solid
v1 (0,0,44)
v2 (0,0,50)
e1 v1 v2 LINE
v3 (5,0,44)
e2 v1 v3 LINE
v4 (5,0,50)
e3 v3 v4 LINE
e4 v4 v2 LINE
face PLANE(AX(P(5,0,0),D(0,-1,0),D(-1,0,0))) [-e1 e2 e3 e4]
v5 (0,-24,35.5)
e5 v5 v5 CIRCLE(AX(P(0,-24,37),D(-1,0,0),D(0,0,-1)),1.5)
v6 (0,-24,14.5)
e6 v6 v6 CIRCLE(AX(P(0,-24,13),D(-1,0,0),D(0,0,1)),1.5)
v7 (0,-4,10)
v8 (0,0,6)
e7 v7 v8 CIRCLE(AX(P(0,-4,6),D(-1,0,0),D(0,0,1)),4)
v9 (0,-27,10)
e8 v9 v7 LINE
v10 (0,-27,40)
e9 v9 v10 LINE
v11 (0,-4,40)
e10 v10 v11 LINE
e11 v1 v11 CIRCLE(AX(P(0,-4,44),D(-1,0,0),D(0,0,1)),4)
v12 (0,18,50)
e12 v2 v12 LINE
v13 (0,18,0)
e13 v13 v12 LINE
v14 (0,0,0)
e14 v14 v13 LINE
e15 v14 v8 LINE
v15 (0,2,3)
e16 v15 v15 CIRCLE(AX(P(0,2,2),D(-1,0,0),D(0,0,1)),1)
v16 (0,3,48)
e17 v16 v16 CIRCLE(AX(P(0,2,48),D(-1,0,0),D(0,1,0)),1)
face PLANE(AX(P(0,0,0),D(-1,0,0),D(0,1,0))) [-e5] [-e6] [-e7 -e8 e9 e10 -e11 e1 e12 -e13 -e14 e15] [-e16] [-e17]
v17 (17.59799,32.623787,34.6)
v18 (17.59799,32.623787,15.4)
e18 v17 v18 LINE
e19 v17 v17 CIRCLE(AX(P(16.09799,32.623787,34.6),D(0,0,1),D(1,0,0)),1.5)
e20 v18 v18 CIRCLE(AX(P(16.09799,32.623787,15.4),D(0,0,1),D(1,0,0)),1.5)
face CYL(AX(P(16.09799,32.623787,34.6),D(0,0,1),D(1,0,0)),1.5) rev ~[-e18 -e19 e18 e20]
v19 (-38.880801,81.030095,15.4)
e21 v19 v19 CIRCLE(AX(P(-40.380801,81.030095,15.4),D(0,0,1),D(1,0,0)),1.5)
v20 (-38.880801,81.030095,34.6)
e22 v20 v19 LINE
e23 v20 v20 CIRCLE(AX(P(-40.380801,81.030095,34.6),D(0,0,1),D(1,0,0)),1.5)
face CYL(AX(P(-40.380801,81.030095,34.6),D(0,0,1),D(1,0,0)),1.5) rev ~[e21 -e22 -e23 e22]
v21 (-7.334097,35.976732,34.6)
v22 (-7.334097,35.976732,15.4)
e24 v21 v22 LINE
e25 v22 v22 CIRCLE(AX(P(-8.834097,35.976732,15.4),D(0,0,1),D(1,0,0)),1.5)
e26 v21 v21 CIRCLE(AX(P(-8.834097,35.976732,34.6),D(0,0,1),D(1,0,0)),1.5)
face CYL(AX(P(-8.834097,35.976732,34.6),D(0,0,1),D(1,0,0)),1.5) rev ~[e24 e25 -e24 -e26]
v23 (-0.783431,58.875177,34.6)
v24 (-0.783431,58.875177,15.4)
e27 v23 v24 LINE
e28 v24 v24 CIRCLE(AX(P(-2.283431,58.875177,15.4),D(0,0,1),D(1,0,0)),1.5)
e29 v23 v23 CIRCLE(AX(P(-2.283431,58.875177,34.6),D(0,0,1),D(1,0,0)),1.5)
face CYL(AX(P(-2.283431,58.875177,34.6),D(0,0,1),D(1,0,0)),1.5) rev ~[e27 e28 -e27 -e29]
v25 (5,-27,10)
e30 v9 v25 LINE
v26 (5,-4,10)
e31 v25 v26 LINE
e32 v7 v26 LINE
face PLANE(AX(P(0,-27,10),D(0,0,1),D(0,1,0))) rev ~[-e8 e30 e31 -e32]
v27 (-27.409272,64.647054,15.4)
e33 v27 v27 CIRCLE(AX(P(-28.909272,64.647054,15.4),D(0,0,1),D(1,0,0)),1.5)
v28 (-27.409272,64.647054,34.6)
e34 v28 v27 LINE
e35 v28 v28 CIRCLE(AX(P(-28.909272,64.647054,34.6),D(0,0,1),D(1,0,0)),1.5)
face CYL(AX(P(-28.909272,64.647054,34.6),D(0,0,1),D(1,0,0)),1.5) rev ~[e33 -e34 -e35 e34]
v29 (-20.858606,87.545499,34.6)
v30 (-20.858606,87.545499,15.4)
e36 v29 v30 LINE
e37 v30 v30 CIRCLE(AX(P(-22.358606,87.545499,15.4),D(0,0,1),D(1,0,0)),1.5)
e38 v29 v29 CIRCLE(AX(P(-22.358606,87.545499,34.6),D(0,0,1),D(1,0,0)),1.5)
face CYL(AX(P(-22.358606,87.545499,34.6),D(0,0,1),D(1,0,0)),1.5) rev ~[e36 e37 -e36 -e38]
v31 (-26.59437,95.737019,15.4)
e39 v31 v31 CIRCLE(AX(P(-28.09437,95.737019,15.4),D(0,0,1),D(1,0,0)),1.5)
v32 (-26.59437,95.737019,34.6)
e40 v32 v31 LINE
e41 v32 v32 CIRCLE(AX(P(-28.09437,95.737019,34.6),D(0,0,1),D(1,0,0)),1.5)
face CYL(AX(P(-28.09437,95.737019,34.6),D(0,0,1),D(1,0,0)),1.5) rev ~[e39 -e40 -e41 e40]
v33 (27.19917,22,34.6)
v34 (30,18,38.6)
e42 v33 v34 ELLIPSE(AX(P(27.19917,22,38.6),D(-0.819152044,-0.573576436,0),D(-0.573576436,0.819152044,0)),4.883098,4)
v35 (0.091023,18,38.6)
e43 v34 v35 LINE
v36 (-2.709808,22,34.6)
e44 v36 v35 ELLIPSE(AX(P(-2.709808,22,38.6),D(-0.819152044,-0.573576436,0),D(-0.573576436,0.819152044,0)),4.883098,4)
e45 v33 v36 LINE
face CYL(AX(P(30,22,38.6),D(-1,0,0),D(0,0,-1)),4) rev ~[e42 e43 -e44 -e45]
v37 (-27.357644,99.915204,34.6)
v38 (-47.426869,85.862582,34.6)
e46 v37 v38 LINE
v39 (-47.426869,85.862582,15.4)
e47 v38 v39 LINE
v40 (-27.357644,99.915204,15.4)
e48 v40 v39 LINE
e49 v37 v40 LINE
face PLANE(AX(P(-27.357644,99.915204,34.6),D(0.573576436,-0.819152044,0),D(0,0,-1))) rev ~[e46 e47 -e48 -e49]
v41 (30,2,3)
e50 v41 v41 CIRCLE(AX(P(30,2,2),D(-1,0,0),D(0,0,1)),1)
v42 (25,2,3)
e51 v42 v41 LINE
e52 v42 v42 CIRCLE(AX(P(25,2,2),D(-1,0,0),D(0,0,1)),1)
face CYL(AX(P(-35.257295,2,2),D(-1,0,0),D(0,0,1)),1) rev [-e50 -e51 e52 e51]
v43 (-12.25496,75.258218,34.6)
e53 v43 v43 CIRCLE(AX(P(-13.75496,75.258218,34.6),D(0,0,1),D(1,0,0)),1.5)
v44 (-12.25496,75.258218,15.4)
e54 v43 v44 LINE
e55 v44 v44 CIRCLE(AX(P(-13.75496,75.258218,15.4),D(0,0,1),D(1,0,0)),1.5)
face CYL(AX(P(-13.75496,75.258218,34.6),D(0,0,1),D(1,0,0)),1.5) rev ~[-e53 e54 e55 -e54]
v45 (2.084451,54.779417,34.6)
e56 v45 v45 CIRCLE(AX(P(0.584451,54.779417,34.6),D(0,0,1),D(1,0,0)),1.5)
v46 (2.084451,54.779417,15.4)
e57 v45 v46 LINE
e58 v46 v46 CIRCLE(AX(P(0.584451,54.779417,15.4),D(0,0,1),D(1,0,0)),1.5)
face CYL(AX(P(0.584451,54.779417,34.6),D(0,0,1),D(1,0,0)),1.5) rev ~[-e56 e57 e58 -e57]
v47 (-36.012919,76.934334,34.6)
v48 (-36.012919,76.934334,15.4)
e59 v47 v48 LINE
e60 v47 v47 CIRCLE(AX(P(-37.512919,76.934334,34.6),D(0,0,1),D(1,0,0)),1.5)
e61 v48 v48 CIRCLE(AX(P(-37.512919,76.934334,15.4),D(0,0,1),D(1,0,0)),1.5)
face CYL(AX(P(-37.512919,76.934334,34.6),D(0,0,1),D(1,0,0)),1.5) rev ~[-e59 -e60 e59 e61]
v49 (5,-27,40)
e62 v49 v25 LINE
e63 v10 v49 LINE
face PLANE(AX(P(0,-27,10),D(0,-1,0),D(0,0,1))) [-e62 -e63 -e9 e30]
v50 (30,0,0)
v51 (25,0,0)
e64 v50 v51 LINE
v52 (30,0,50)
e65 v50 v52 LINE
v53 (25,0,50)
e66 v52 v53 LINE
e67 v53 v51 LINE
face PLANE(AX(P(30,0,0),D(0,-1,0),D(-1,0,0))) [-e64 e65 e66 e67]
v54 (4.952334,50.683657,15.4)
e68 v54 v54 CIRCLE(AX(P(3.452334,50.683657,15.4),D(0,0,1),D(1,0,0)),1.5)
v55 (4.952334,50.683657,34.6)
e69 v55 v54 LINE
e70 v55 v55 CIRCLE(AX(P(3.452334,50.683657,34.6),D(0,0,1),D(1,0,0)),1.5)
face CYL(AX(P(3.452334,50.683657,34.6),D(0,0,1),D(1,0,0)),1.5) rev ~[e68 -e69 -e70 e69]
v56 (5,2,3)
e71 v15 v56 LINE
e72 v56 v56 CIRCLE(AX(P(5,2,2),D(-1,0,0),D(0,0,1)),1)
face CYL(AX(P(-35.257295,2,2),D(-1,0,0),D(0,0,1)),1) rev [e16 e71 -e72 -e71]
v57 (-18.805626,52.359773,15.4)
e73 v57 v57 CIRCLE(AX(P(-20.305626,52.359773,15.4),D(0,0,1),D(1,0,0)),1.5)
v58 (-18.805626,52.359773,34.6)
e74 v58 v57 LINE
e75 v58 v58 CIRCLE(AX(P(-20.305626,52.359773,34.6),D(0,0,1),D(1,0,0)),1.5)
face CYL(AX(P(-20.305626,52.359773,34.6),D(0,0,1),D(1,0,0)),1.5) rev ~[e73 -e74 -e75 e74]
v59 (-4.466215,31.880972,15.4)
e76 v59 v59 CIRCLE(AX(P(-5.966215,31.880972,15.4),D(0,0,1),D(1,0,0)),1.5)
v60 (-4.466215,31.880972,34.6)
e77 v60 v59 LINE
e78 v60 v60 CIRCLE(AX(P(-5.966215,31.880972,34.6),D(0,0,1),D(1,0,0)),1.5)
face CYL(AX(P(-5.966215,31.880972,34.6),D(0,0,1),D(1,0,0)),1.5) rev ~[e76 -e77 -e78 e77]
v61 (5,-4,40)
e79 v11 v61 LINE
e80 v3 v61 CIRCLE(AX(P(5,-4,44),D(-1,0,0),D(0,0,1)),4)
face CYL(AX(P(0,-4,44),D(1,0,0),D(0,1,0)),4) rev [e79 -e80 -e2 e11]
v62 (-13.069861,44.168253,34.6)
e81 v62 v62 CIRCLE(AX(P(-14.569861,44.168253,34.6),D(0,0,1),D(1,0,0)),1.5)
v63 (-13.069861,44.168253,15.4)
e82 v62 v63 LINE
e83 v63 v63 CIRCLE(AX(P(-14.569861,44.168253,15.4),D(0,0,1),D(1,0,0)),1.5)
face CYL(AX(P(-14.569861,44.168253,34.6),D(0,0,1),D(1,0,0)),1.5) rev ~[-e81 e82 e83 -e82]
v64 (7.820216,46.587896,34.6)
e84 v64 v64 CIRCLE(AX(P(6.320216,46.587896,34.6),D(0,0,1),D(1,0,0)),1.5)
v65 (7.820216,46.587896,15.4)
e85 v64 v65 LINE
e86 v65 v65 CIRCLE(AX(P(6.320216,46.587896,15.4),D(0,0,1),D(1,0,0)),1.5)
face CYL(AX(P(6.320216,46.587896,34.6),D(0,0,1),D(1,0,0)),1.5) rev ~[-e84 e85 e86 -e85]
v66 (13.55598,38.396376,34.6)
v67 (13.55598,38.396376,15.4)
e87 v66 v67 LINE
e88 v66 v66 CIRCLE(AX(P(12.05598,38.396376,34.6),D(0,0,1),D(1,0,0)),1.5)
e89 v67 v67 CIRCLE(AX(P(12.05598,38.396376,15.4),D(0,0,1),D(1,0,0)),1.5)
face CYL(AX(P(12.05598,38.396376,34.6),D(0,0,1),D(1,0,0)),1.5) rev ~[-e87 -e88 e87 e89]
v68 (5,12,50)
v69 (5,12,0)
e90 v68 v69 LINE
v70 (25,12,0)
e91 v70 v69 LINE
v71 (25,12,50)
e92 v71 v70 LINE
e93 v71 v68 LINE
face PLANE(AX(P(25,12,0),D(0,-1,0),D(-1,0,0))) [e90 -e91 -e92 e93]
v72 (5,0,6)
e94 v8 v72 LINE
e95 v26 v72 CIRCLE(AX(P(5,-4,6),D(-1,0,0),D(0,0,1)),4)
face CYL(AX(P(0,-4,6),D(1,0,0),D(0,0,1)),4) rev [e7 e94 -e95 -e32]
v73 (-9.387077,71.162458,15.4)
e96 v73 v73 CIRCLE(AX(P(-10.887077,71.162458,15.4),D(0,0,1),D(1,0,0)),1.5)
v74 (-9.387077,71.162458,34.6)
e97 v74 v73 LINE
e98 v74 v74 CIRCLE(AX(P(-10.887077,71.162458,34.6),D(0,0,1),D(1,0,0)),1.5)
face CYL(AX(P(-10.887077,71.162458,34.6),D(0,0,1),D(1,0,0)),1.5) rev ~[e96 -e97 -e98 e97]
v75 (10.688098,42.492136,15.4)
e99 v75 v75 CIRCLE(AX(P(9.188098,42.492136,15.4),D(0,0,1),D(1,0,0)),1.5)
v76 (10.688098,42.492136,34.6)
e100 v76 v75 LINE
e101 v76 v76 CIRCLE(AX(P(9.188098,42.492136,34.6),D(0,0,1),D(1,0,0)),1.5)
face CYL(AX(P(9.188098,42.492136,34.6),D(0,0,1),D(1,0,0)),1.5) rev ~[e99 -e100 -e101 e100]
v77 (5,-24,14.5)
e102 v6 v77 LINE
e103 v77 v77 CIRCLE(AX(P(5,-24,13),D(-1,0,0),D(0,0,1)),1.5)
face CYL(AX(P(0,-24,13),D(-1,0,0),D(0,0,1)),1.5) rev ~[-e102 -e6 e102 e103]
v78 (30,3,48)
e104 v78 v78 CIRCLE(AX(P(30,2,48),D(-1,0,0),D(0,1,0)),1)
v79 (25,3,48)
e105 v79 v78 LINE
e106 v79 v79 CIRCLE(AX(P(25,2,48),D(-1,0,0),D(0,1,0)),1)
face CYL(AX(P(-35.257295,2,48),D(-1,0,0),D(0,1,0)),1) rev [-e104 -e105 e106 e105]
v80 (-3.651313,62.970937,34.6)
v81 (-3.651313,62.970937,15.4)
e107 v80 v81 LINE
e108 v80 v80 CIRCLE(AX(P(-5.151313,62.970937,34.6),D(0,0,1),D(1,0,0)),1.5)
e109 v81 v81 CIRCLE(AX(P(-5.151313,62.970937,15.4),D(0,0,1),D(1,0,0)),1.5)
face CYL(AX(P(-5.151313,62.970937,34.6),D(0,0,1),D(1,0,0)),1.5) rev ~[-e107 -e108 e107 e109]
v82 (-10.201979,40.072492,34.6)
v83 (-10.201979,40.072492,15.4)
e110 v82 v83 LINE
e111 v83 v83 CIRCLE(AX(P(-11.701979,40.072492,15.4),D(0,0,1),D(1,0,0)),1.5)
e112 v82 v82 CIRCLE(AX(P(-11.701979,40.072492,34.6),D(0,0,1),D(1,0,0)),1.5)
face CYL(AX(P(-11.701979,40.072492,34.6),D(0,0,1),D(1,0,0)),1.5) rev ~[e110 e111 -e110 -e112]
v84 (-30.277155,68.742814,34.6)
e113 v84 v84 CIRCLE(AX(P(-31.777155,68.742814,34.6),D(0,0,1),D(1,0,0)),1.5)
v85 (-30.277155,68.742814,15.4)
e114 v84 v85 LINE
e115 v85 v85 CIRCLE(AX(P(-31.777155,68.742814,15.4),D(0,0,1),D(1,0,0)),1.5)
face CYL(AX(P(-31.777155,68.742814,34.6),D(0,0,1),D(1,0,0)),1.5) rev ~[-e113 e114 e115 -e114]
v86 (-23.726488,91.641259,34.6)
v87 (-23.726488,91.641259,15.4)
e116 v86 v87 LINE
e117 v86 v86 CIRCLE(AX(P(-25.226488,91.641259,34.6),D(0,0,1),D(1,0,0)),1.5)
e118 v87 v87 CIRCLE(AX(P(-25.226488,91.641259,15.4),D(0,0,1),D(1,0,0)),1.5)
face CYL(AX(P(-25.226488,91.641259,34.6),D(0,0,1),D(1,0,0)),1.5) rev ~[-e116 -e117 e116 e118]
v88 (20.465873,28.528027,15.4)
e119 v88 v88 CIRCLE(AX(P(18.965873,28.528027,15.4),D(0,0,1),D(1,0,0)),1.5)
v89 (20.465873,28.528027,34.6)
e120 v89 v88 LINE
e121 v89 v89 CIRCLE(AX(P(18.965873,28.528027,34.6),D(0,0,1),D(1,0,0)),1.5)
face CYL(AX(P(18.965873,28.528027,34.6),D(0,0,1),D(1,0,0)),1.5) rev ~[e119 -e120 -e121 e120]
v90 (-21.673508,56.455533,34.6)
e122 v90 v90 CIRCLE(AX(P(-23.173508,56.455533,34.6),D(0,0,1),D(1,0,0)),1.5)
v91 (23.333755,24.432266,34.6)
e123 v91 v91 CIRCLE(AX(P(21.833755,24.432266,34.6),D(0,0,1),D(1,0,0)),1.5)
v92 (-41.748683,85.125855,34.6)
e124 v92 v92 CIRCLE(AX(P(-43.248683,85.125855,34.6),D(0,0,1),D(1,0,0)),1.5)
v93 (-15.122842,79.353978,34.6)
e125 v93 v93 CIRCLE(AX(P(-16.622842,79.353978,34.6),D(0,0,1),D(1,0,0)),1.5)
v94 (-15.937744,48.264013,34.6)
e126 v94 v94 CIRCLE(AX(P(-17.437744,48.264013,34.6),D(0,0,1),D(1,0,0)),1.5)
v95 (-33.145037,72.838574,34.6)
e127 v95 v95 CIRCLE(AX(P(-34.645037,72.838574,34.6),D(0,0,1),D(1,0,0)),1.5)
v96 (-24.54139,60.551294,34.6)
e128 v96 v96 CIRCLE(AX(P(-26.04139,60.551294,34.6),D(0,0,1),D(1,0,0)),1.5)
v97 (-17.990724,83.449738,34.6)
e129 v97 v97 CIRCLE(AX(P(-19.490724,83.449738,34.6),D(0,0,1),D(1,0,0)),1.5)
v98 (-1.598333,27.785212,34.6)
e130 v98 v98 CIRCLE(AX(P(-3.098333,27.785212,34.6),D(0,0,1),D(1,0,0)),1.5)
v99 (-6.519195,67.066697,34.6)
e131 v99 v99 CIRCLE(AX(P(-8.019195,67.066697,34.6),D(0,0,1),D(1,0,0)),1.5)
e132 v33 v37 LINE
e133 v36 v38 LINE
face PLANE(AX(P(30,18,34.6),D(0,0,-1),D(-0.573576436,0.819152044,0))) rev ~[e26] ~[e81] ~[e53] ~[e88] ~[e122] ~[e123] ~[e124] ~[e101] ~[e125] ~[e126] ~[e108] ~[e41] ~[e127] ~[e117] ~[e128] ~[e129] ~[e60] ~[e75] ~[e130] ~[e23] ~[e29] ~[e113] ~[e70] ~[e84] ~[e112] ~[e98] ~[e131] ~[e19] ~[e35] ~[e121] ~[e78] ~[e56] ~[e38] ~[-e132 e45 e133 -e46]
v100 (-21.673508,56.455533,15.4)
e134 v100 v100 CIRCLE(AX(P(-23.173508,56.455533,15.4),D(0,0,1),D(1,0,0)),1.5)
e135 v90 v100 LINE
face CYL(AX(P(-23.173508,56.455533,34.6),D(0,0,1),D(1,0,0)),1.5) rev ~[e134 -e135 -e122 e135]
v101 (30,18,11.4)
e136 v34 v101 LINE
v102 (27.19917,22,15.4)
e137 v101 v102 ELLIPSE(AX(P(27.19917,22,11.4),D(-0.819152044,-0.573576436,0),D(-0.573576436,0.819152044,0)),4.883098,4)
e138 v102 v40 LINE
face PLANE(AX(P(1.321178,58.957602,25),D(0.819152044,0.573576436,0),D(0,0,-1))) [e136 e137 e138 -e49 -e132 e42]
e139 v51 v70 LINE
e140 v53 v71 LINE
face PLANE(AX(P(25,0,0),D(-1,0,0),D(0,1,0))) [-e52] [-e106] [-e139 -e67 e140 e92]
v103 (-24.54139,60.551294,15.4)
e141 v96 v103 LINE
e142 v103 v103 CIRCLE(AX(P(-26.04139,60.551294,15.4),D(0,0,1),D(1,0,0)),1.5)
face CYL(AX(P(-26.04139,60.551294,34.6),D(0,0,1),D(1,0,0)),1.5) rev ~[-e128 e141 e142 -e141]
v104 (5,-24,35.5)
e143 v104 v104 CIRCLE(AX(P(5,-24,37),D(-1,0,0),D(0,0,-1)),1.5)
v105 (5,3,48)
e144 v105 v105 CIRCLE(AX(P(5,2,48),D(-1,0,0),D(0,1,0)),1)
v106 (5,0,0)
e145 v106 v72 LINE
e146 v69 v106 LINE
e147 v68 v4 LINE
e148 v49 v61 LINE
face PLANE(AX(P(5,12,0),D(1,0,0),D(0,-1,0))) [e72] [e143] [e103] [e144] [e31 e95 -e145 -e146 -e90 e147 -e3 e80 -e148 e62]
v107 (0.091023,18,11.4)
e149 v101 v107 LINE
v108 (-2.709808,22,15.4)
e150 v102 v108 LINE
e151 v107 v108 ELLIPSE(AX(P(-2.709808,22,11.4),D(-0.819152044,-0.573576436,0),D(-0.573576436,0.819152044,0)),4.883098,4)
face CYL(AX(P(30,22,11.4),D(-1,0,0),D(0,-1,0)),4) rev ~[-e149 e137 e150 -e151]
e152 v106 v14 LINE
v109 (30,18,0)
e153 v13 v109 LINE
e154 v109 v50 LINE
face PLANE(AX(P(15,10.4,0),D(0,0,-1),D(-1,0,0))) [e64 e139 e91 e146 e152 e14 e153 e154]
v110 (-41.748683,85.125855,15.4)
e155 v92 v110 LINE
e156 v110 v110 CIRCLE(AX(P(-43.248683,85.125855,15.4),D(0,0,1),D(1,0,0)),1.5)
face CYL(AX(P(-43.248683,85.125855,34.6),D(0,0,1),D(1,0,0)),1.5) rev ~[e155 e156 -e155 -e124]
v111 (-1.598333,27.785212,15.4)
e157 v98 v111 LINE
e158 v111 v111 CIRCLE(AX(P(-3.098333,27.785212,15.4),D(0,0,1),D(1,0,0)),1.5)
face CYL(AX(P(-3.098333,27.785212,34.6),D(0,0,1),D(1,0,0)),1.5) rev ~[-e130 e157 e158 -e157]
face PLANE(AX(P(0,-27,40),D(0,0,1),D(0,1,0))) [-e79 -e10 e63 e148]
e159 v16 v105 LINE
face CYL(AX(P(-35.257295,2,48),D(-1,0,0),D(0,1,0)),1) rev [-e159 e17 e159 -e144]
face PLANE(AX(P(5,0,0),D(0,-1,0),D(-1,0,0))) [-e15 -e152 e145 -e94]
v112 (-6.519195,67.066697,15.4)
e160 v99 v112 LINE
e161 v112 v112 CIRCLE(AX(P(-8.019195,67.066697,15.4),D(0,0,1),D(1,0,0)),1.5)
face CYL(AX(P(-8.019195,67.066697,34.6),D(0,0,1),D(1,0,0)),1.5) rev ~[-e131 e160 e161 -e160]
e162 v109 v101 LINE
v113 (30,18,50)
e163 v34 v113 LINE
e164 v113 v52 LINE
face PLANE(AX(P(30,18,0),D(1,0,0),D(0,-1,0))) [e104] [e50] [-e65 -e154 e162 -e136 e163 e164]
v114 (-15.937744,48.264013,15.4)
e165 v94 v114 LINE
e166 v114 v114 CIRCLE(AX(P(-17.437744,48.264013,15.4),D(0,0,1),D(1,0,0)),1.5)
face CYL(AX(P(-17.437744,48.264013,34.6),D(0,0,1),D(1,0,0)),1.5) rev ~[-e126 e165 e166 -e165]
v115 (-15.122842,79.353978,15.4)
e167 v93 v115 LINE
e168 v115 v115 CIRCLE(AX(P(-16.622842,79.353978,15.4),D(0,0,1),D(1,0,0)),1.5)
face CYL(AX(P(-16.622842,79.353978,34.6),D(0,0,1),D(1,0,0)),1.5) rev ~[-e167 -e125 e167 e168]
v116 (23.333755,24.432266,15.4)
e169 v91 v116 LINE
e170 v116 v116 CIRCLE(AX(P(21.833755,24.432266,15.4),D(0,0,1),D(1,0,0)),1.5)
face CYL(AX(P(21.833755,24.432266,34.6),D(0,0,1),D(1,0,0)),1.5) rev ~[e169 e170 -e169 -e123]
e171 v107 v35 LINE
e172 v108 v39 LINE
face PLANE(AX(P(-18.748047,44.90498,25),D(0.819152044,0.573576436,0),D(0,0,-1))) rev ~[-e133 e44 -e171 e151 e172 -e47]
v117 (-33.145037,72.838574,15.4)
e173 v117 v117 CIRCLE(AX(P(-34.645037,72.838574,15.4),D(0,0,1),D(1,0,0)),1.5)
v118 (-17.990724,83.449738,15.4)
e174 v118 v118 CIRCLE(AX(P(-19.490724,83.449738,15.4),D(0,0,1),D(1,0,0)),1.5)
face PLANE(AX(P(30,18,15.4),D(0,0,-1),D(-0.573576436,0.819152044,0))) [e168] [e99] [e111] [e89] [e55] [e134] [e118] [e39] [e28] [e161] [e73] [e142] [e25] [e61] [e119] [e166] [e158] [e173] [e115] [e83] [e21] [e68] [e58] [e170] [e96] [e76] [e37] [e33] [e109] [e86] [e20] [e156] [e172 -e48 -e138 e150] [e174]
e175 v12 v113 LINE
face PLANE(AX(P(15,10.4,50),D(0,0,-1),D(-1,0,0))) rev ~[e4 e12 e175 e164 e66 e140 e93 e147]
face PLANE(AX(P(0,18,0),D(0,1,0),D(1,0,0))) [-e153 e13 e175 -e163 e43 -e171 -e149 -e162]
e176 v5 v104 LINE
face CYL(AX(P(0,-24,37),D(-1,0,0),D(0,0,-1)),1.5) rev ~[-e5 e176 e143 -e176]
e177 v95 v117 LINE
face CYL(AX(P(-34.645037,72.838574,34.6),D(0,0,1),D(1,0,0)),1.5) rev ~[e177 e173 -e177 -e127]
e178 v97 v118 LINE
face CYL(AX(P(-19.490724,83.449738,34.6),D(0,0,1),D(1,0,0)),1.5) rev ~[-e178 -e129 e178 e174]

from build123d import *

# Parameters (mm, degrees)
BOSS_EXTRUDE1_DEPTH     = 50
SKETCH2_W               = 30
SKETCH2_H               = 27
SKETCH2_R               = 1.5
BOSS_EXTRUDE2_DEPTH     = 5
CUT_EXTRUDE1_DEPTH      = 65.257295306
CUT_EXTRUDE1_DEPTH_BACK = 65.257295306
SKETCH3_R               = 1
SKETCH5_W               = 19.2
SKETCH5_H               = 100
BOSS_EXTRUDE5_DEPTH     = 24.5
SKETCH5_2_W             = 19.2
SKETCH5_2_H             = 100
CUT_EXTRUDE3_DEPTH      = 80
SKETCH4_W               = 20
SKETCH4_H               = 21.42095117
CUT_EXTRUDE4_DEPTH      = 80
SKETCH9_R               = 1.5
CUT_EXTRUDE6_DEPTH      = 19.2
FILLET3_R               = 4
FILLET6_R               = 4


with BuildPart() as part:
    # Sketch1 → Boss-Extrude1 (new body)
    with BuildSketch(Plane.XY):
        Polygon((0, 0), (0, 18), (30, 18), (30, 0), (25, 0), (25, 12), (5, 12), (5, 0), align=None)
    extrude(amount=BOSS_EXTRUDE1_DEPTH)

    # Sketch2 → Boss-Extrude2 (add)
    with BuildSketch(Plane.ZY):
        with Locations((25, -13.5)):
            Rectangle(SKETCH2_W, SKETCH2_H)
        with Locations((13, -24)):
            Circle(SKETCH2_R, mode=Mode.SUBTRACT)
        with Locations(Location((37, -24, 0), (0, 0, 180))):
            Circle(SKETCH2_R, mode=Mode.SUBTRACT)
    extrude(amount=-BOSS_EXTRUDE2_DEPTH)

    # Sketch3 → Cut-Extrude1 (cut, two sides: drawn at the far end of the back side and taken through both)
    with BuildSketch(Plane(origin=(30, 0, 0), x_dir=(0, 0, -1), z_dir=(1, 0, 0)).offset(-CUT_EXTRUDE1_DEPTH_BACK)):
        with Locations(Location((-48, 2, 0), (0, 0, 90))):
            Circle(SKETCH3_R)
        with Locations(Location((-2, 2, 0), (0, 0, 180))):
            Circle(SKETCH3_R)
    extrude(amount=CUT_EXTRUDE1_DEPTH + CUT_EXTRUDE1_DEPTH_BACK, mode=Mode.SUBTRACT)

    # Sketch5 → Boss-Extrude5 (add, symmetric)
    with BuildSketch(Plane(origin=(28.587535737, 20.017208022, 0), x_dir=(0, 0, -1), z_dir=(0.8191520442889919, 0.573576436351046, 0))):
        with Locations((-25, 47.537443707)):
            Rectangle(SKETCH5_W, SKETCH5_H)
    extrude(amount=BOSS_EXTRUDE5_DEPTH, both=True)

    # Sketch5<2> → Cut-Extrude3 (cut)
    with BuildSketch(Plane(origin=(28.587535737, 20.017208022, 0), x_dir=(0, 0, -1), z_dir=(0.8191520442889919, 0.573576436351046, 0))):
        with Locations((-25, 47.537443707)):
            Rectangle(SKETCH5_2_W, SKETCH5_2_H)
    extrude(amount=CUT_EXTRUDE3_DEPTH, mode=Mode.SUBTRACT)

    # Sketch4 → Cut-Extrude4 (cut)
    with BuildSketch(Plane(origin=(0, 12, 0), x_dir=(1, 0, 0), z_dir=(0, 1, 0))):
        with Locations((15, -24.710475585)):
            Rectangle(SKETCH4_W, SKETCH4_H)
    extrude(amount=-CUT_EXTRUDE4_DEPTH, mode=Mode.SUBTRACT)

    # Sketch9 → Cut-Extrude6 (cut)
    with BuildSketch(Plane.XY.offset(34.6)):
        with Locations((-43.248683278, 85.125854914)):
            Circle(SKETCH9_R)
        with Locations((-40.380801097, 81.030094693)):
            Circle(SKETCH9_R)
        with Locations((-37.512918915, 76.934334472)):
            Circle(SKETCH9_R)
        with Locations((-34.645036733, 72.83857425)):
            Circle(SKETCH9_R)
        with Locations((-31.777154551, 68.742814029)):
            Circle(SKETCH9_R)
        with Locations((-28.909272369, 64.647053807)):
            Circle(SKETCH9_R)
        with Locations((-26.041390188, 60.551293586)):
            Circle(SKETCH9_R)
        with Locations((-23.173508006, 56.455533364)):
            Circle(SKETCH9_R)
        with Locations((-20.305625824, 52.359773143)):
            Circle(SKETCH9_R)
        with Locations((-17.437743642, 48.264012921)):
            Circle(SKETCH9_R)
        with Locations((-14.569861461, 44.1682527)):
            Circle(SKETCH9_R)
        with Locations((-11.701979279, 40.072492479)):
            Circle(SKETCH9_R)
        with Locations((-8.834097097, 35.976732257)):
            Circle(SKETCH9_R)
        with Locations((-5.966214915, 31.880972036)):
            Circle(SKETCH9_R)
        with Locations((-3.098332734, 27.785211814)):
            Circle(SKETCH9_R)
        with Locations((21.833754852, 24.432266344)):
            Circle(SKETCH9_R)
        with Locations((18.96587267, 28.528026566)):
            Circle(SKETCH9_R)
        with Locations((16.097990488, 32.623786787)):
            Circle(SKETCH9_R)
        with Locations((12.055980086, 38.396375887)):
            Circle(SKETCH9_R)
        with Locations((9.188097904, 42.492136108)):
            Circle(SKETCH9_R)
        with Locations((6.320215722, 46.58789633)):
            Circle(SKETCH9_R)
        with Locations((3.45233354, 50.683656551)):
            Circle(SKETCH9_R)
        with Locations((0.584451359, 54.779416773)):
            Circle(SKETCH9_R)
        with Locations((-2.283430823, 58.875176994)):
            Circle(SKETCH9_R)
        with Locations((-5.151313005, 62.970937215)):
            Circle(SKETCH9_R)
        with Locations((-8.019195187, 67.066697437)):
            Circle(SKETCH9_R)
        with Locations((-10.887077368, 71.162457658)):
            Circle(SKETCH9_R)
        with Locations((-13.75495955, 75.25821788)):
            Circle(SKETCH9_R)
        with Locations((-16.622841732, 79.353978101)):
            Circle(SKETCH9_R)
        with Locations((-19.490723914, 83.449738323)):
            Circle(SKETCH9_R)
        with Locations((-22.358606095, 87.545498544)):
            Circle(SKETCH9_R)
        with Locations((-25.226488277, 91.641258766)):
            Circle(SKETCH9_R)
        with Locations((-28.094370459, 95.737018987)):
            Circle(SKETCH9_R)
    extrude(amount=-CUT_EXTRUDE6_DEPTH, mode=Mode.SUBTRACT)

    # Fillet3
    fillet3_edges = [part.edges().sort_by_distance(p)[0] for p in [
        (15.045511288, 18, 34.6),
        (15.045511288, 18, 15.4),
    ]]
    fillet(fillet3_edges, radius=FILLET3_R)

    # Fillet6
    fillet6_edges = [part.edges().sort_by_distance(p)[0] for p in [
        (2.5, 0, 10),
        (2.5, 0, 40),
    ]]
    fillet(fillet6_edges, radius=FILLET6_R)


solid = part.part
